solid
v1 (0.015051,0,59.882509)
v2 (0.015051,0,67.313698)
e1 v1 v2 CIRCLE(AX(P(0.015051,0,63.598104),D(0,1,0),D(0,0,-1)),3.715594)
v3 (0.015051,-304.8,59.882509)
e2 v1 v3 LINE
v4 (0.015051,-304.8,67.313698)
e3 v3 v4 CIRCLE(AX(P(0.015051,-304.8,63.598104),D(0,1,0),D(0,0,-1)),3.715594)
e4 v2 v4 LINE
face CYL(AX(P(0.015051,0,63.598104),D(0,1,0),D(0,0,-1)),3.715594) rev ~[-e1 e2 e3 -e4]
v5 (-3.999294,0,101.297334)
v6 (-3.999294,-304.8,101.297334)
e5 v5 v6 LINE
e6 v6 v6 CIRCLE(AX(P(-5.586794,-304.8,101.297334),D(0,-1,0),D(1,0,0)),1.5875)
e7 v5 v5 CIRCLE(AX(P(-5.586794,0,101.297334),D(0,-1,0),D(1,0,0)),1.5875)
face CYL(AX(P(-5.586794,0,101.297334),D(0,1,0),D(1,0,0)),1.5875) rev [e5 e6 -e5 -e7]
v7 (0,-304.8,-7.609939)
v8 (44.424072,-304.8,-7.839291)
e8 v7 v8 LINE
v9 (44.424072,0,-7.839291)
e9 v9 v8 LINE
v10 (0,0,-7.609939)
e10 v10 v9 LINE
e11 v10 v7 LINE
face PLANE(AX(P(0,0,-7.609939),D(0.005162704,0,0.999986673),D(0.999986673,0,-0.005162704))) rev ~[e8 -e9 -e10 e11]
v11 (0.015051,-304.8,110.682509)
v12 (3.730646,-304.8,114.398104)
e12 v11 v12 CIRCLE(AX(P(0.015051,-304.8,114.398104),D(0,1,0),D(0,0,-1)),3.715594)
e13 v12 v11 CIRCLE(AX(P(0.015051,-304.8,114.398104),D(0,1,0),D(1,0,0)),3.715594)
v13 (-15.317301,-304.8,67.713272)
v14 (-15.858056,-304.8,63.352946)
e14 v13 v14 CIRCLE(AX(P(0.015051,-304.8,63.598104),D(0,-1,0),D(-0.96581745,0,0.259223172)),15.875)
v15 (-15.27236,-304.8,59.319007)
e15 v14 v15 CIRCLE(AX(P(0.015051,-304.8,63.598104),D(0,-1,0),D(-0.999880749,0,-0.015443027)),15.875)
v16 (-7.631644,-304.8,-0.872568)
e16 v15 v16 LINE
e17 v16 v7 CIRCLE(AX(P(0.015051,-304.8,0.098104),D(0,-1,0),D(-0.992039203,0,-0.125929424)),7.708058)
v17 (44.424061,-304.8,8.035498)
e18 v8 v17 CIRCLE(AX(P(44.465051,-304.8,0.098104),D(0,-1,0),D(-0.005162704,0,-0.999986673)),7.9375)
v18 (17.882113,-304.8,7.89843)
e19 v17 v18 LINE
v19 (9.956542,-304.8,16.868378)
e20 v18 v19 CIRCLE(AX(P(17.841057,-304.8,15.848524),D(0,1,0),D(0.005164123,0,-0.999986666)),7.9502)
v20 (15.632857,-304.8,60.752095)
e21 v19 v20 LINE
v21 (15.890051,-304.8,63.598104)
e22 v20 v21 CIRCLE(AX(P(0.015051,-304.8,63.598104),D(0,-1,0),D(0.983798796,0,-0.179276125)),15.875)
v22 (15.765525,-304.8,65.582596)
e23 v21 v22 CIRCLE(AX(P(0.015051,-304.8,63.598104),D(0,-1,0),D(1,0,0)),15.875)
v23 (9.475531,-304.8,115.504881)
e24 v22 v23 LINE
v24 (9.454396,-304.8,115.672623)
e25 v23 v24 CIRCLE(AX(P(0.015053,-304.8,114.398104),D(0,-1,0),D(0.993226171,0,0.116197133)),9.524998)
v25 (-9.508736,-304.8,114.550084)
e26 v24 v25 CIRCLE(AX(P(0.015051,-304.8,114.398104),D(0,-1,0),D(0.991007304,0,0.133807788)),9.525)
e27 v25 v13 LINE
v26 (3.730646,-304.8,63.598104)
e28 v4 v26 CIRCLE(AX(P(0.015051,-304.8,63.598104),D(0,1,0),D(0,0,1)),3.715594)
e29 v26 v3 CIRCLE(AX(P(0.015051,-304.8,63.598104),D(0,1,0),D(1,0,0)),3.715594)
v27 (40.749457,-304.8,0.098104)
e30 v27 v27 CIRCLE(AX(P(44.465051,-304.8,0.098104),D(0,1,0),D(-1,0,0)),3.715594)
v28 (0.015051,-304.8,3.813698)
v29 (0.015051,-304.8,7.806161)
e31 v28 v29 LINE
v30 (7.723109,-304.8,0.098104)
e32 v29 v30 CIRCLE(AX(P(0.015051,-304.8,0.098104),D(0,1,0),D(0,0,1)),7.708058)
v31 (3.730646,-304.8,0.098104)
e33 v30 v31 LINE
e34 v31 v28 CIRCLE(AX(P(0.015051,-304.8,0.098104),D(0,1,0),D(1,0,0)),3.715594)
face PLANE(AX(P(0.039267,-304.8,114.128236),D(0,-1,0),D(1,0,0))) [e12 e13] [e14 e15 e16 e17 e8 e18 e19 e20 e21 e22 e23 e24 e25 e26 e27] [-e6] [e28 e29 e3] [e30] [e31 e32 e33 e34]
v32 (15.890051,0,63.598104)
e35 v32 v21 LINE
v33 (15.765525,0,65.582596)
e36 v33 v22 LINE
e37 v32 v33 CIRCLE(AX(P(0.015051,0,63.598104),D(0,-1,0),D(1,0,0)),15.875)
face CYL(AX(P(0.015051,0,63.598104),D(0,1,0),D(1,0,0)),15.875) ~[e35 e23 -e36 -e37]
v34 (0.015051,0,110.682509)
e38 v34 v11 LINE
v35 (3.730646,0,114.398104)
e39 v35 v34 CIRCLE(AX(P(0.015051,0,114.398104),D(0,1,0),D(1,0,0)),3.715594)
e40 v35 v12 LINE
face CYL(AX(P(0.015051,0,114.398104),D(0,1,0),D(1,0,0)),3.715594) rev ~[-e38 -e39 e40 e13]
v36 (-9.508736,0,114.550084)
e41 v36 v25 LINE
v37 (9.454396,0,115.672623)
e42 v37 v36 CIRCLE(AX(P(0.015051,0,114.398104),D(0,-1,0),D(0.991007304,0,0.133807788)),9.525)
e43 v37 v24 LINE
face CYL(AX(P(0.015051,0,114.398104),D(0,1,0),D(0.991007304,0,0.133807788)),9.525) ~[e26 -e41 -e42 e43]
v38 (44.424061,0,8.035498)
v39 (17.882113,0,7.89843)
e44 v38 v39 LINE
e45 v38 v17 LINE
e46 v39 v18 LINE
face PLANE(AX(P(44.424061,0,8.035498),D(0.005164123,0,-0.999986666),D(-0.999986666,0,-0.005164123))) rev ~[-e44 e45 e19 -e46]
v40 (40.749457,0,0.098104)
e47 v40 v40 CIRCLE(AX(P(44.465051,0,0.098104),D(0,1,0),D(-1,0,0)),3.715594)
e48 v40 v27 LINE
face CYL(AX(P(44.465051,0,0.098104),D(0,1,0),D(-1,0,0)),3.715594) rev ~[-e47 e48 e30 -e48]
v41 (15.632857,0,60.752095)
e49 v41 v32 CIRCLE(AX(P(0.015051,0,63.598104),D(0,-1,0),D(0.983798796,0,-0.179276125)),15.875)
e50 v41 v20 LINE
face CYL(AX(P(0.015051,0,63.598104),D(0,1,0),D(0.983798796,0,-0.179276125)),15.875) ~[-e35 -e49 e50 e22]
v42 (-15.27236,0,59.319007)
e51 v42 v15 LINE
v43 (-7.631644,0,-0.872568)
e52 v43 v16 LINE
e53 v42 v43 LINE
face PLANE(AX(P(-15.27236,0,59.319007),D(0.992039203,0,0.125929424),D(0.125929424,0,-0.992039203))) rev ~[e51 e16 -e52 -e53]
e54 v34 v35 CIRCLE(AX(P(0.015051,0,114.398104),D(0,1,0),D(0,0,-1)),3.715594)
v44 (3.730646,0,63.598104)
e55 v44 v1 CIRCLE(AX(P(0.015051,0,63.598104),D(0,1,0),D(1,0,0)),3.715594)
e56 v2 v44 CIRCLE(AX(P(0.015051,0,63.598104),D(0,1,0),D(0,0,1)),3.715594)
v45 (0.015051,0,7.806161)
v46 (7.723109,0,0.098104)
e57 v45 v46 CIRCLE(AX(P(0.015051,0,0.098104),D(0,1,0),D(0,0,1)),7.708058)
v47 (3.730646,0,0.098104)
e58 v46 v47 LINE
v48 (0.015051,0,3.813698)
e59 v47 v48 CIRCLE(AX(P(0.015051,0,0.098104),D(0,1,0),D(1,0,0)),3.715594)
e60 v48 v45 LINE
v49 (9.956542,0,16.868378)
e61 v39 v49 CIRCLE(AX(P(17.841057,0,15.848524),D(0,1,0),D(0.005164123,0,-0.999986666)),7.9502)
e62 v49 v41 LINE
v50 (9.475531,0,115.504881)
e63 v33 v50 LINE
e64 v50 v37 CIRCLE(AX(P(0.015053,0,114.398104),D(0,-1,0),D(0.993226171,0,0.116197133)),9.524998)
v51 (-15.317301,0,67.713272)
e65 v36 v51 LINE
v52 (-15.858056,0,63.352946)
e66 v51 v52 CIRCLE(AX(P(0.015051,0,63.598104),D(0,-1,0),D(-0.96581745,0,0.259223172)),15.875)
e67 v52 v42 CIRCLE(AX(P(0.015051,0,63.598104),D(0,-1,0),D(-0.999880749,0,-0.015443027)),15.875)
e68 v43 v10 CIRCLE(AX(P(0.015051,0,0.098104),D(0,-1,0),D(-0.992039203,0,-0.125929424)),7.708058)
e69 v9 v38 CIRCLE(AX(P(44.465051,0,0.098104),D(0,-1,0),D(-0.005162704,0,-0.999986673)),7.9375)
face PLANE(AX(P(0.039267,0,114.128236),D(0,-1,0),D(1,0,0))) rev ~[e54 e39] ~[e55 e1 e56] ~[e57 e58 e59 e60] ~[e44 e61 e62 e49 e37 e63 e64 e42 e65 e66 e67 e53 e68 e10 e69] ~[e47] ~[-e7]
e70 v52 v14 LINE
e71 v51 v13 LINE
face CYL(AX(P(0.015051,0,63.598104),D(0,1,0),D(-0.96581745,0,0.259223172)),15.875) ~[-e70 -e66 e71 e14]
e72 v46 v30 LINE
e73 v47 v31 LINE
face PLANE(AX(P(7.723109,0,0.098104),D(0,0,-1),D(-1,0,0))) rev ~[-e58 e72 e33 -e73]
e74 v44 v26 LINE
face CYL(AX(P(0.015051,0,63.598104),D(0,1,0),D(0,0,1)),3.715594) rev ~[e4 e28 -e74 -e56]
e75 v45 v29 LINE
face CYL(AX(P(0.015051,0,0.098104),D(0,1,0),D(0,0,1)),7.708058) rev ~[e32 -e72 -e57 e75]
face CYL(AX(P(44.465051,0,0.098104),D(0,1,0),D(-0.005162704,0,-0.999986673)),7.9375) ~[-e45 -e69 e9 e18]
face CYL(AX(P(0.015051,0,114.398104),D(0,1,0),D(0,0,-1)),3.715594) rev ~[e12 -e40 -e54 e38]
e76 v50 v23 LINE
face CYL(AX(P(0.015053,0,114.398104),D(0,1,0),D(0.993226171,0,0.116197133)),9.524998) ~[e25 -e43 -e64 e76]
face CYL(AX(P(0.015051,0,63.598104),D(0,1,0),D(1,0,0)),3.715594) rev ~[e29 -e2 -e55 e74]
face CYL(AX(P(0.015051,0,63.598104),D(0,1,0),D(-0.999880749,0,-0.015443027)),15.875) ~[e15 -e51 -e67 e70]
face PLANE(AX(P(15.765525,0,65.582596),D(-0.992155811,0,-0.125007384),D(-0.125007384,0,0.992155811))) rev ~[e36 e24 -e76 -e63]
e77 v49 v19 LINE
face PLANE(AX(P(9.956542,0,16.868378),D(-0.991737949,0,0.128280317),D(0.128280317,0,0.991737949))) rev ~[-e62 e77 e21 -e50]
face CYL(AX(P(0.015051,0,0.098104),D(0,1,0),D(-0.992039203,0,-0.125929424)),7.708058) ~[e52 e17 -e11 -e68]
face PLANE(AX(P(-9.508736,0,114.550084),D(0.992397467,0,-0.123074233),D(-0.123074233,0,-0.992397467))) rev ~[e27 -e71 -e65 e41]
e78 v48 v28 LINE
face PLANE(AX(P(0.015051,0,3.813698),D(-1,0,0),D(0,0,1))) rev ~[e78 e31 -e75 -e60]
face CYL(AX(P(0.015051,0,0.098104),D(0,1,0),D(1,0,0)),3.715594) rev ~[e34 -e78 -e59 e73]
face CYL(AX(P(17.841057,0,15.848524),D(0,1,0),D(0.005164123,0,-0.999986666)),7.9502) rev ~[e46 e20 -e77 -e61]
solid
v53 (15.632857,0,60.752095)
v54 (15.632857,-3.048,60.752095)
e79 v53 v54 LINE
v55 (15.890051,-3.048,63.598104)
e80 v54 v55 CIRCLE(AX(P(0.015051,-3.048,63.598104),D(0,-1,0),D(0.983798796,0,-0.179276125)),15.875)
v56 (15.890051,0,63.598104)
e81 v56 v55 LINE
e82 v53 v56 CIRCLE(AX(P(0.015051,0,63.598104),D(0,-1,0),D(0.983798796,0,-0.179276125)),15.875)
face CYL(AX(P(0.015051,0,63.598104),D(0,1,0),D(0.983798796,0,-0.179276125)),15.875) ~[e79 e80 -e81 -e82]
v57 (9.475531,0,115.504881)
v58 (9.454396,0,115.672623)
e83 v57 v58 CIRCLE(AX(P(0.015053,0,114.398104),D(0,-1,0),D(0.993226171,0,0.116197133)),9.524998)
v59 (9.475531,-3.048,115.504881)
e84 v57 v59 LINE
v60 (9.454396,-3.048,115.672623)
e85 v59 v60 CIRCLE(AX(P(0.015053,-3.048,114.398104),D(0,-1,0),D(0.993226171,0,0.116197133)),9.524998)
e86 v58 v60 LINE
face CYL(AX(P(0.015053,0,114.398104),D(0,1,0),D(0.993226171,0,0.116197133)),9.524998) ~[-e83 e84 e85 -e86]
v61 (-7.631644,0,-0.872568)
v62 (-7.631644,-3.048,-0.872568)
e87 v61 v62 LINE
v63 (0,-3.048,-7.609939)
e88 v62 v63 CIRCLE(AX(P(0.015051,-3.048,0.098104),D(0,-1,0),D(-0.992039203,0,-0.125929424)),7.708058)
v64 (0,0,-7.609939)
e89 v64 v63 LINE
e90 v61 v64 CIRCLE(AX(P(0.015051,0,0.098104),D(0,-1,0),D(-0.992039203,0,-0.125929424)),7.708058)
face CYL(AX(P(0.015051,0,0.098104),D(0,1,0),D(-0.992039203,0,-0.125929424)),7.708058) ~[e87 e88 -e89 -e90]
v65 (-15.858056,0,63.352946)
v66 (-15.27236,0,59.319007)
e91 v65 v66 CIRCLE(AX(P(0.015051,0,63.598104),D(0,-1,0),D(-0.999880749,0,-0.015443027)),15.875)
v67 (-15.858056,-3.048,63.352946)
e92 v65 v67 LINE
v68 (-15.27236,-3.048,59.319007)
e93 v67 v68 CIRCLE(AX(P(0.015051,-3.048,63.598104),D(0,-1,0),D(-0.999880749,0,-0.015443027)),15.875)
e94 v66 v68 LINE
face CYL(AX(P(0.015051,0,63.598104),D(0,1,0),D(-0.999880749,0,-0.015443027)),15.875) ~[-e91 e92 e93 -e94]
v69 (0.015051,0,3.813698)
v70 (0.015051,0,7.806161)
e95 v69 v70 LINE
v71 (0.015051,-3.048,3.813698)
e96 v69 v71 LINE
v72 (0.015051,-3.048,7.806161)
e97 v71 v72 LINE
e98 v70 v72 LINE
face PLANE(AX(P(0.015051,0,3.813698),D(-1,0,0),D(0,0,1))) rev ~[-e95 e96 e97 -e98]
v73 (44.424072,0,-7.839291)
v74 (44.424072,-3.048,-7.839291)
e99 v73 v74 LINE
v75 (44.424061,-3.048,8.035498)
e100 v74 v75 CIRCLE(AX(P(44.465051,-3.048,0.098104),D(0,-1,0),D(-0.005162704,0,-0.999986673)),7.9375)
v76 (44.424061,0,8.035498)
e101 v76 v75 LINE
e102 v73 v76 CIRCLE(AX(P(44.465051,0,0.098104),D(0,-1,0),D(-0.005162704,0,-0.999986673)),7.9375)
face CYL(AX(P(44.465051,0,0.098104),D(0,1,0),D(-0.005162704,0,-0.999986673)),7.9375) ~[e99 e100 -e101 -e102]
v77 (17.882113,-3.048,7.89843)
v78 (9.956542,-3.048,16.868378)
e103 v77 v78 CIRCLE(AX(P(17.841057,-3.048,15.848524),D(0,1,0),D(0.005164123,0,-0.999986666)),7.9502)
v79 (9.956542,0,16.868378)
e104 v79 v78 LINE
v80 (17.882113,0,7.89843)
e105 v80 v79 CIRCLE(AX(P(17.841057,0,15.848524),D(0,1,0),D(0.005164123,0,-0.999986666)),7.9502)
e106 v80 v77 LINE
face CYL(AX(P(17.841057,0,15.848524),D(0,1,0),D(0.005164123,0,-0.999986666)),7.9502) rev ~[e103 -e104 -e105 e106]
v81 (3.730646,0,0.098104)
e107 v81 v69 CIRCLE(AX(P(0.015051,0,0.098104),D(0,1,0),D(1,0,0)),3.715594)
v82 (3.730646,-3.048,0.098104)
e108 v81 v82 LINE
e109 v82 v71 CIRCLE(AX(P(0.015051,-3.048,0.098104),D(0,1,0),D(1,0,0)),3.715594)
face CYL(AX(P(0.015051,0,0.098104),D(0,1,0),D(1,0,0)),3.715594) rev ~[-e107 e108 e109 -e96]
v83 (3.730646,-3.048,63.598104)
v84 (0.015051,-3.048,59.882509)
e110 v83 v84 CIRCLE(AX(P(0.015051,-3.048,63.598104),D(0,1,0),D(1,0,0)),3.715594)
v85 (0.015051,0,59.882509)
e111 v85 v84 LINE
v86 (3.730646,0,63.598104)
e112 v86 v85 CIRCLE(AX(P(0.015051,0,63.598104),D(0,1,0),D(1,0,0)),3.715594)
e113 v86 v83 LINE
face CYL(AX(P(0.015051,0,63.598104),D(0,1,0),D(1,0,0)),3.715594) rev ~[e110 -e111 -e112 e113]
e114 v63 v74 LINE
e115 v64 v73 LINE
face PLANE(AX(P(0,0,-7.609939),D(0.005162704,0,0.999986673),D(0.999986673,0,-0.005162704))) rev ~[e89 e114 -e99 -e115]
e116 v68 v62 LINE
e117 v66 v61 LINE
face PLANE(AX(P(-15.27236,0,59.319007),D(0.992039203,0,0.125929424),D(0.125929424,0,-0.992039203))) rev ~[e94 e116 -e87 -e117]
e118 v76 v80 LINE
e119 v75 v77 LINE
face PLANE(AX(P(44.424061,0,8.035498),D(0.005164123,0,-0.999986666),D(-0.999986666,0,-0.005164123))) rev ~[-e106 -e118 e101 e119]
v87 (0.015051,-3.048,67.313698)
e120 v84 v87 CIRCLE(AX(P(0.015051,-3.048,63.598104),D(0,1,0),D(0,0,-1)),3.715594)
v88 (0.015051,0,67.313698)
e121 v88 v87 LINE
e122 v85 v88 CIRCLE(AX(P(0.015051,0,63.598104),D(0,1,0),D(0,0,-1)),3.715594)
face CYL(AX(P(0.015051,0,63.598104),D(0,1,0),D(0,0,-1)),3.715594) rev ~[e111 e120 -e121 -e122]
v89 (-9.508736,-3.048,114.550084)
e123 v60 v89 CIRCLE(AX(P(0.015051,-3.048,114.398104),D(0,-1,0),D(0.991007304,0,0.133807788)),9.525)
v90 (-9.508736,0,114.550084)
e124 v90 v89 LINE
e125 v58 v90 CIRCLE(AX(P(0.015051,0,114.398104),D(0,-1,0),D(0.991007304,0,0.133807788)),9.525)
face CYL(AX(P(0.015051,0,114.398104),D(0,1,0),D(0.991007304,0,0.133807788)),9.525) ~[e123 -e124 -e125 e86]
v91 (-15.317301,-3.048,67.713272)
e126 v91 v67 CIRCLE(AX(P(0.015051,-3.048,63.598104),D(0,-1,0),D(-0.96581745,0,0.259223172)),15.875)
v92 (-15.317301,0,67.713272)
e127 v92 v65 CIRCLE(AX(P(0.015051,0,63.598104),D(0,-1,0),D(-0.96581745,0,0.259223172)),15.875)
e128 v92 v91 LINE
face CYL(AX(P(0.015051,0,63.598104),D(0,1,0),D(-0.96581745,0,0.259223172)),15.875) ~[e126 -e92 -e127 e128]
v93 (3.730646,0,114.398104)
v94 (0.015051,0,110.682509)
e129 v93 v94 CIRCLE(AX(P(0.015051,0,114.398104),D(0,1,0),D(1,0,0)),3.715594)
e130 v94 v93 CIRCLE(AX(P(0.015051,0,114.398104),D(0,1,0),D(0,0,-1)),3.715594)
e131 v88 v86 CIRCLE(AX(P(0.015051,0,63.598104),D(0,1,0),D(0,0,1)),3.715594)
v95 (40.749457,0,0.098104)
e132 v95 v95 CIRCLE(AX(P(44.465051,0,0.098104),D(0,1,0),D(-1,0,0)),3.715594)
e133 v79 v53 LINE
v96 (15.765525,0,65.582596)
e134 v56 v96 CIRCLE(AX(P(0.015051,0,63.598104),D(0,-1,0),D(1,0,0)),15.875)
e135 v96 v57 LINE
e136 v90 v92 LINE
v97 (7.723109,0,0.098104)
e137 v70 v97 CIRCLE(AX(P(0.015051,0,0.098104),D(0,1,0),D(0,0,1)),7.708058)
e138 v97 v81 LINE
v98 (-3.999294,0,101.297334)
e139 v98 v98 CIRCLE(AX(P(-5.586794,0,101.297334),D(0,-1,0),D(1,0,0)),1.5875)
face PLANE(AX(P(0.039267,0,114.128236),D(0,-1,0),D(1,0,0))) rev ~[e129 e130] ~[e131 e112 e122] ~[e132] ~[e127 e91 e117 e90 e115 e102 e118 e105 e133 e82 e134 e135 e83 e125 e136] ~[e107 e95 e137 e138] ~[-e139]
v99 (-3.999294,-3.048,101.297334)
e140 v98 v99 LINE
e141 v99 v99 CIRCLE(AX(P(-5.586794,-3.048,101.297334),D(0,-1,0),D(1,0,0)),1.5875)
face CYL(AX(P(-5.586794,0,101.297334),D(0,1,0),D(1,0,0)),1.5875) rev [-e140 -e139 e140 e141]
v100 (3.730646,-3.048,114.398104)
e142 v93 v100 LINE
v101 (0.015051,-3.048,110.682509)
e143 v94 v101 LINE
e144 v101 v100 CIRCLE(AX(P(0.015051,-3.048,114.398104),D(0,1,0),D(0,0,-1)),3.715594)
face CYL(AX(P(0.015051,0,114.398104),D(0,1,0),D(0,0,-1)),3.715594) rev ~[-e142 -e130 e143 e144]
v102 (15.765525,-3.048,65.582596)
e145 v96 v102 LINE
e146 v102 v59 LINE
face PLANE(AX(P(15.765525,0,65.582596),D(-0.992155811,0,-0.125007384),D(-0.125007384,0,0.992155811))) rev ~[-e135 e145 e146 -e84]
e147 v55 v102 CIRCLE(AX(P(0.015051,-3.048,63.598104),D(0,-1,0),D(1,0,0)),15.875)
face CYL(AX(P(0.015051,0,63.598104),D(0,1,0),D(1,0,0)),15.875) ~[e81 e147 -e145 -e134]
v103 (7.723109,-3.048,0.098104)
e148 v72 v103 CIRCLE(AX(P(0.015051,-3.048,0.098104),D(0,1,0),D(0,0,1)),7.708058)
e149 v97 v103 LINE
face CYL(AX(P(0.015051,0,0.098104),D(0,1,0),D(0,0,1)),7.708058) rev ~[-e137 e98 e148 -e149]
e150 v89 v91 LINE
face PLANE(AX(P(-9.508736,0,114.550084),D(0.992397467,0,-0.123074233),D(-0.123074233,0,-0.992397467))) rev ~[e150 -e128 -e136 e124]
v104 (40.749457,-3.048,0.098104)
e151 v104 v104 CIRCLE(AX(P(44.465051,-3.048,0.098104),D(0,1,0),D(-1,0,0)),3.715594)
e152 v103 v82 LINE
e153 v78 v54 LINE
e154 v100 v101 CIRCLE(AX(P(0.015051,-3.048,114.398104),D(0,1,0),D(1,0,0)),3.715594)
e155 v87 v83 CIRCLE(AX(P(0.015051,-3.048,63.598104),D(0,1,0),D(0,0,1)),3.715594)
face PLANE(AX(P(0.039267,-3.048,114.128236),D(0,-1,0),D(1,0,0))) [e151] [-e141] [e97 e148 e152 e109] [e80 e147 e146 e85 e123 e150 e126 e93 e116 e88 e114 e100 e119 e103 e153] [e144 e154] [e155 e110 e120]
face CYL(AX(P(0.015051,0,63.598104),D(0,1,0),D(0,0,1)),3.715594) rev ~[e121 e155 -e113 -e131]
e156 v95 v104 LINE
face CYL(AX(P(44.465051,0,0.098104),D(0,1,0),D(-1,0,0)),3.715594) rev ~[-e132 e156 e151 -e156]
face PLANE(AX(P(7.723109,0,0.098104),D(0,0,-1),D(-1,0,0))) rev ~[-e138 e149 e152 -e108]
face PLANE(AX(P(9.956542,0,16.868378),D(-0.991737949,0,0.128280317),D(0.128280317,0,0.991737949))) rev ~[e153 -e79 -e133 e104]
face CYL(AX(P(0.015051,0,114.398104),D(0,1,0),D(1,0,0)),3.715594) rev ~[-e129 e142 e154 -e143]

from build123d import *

# Parameters (mm, degrees)
F0_R     = 1.5875
F1_DEPTH = 304.8
F2_DEPTH = 3.048


with BuildPart() as f1:
    # F0 (on Front) → F1 (new body)
    with BuildSketch(Plane.XZ):
        with BuildLine():
            ThreePointArc((-9.5087361881, 114.5500842279), (-6.7736614446, 107.7168608946), (0.0150512367, 104.873103678))
            ThreePointArc((0.0150512367, 104.873103678), (6.7502433275, 107.6629115872), (9.5400512367, 114.398103678))
            ThreePointArc((9.5400512367, 114.398103678), (9.5239073745, 114.9524320558), (9.4755305122, 115.5048813783))
            Line((9.4755305122, 115.5048813783), (9.4543958033, 115.6726228626))
            ThreePointArc((9.4543958033, 115.6726228626), (-0.5478038918, 123.906458904), (-9.5087361881, 114.5500842279))
        make_face()
        with BuildLine():
            ThreePointArc((3.7306455777, 114.398103678), (2.6423731913, 111.7707817234), (0.0150512367, 110.682509337))
            ThreePointArc((0.0150512367, 110.682509337), (-2.612270718, 117.0254256327), (3.7306455777, 114.398103678))
        make_face(mode=Mode.SUBTRACT)
        with BuildLine():
            ThreePointArc((9.5400512367, 114.398103678), (6.7502433275, 107.6629115872), (0.0150512367, 104.873103678))
            Line((0.0150512367, 104.873103678), (0.0150512367, 79.473103678))
            ThreePointArc((0.0150512367, 79.473103678), (10.515332529, 75.5043926793), (15.7655247688, 65.5825956822))
            Line((15.7655247688, 65.5825956822), (9.4755305122, 115.5048813783))
            ThreePointArc((9.4755305122, 115.5048813783), (9.5239073745, 114.9524320558), (9.5400512367, 114.398103678))
        make_face()
        with BuildLine():
            Line((0.0150512367, 79.473103678), (0.0150512367, 104.873103678))
            ThreePointArc((0.0150512367, 104.873103678), (-6.7736614446, 107.7168608946), (-9.5087361881, 114.5500842279))
            Line((-9.5087361881, 114.5500842279), (-15.3173007855, 67.7132715322))
            ThreePointArc((-15.3173007855, 67.7132715322), (-9.6464014314, 76.1946094373), (0.0150512367, 79.473103678))
        make_face()
        with Locations((-5.5867941119, 101.2973338366)):
            Circle(F0_R, mode=Mode.SUBTRACT)
        with BuildLine():
            ThreePointArc((15.7655247688, 65.5825956822), (10.515332529, 75.5043926793), (0.0150512367, 79.473103678))
            Line((0.0150512367, 79.473103678), (0.0150512367, 67.313698019))
            ThreePointArc((0.0150512367, 67.313698019), (2.6423731913, 66.2254256327), (3.7306455777, 63.598103678))
            ThreePointArc((3.7306455777, 63.598103678), (2.6423731913, 60.9707817234), (0.0150512367, 59.882509337))
            Line((0.0150512367, 59.882509337), (0.0150512367, 47.723103678))
            ThreePointArc((0.0150512367, 47.723103678), (10.1844966564, 51.4080255464), (15.6328571229, 60.7520951923))
            ThreePointArc((15.6328571229, 60.7520951923), (15.8256219639, 62.1693005851), (15.8900512367, 63.598103678))
            ThreePointArc((15.8900512367, 63.598103678), (15.8588890344, 64.5923012635), (15.7655247688, 65.5825956822))
        make_face()
        with BuildLine():
            Line((0.0150512367, 67.313698019), (0.0150512367, 79.473103678))
            ThreePointArc((0.0150512367, 79.473103678), (-9.6464014314, 76.1946094373), (-15.3173007855, 67.7132715322))
            Line((-15.3173007855, 67.7132715322), (-15.8580556591, 63.3529456192))
            ThreePointArc((-15.8580556591, 63.3529456192), (-15.6952207307, 61.3170995766), (-15.2723604957, 59.3190071001))
            ThreePointArc((-15.2723604957, 59.3190071001), (-9.5788261553, 50.9500547539), (0.0150512367, 47.723103678))
            Line((0.0150512367, 47.723103678), (0.0150512367, 59.882509337))
            ThreePointArc((0.0150512367, 59.882509337), (-3.7005431043, 63.598103678), (0.0150512367, 67.313698019))
        make_face()
        with BuildLine():
            Line((-15.8580556591, 63.3529456192), (-15.3173007855, 67.7132715322))
            ThreePointArc((-15.3173007855, 67.7132715322), (-15.7392585574, 65.5519071258), (-15.8580556591, 63.3529456192))
        make_face()
        with BuildLine():
            ThreePointArc((9.4755305122, 115.5048813783), (9.4653353392, 115.5887990138), (9.4543958033, 115.6726228626))
            Line((9.4543958033, 115.6726228626), (9.4755305122, 115.5048813783))
        make_face()
        with BuildLine():
            ThreePointArc((15.6328571229, 60.7520951923), (10.1844966564, 51.4080255464), (0.0150512367, 47.723103678))
            Line((0.0150512367, 47.723103678), (0.0150512367, 7.8061611912))
            ThreePointArc((0.0150512367, 7.8061611912), (5.465470974, 5.5485234153), (7.7231087498, 0.098103678))
            Line((7.7231087498, 0.098103678), (36.5275512367, 0.098103678))
            ThreePointArc((36.5275512367, 0.098103678), (38.8379175893, 5.6962527618), (44.4240610104, 8.035497838))
            Line((44.4240610104, 8.035497838), (17.8821128526, 7.8984301254))
            ThreePointArc((17.8821128526, 7.8984301254), (11.8832927191, 10.5844264427), (9.9565419968, 16.8683782937))
            Line((9.9565419968, 16.8683782937), (15.6328571229, 60.7520951923))
        make_face()
        with BuildLine():
            Line((0.0150512367, 7.8061611912), (0.0150512367, 47.723103678))
            ThreePointArc((0.0150512367, 47.723103678), (-9.5788261553, 50.9500547539), (-15.2723604957, 59.3190071001))
            Line((-15.2723604957, 59.3190071001), (-7.6316439952, -0.8725675623))
            ThreePointArc((-7.6316439952, -0.8725675623), (-5.7683794222, 5.1937960196), (0.0150512367, 7.8061611912))
        make_face()
        with BuildLine():
            Line((0.0150512367, 3.813698019), (0.0150512367, 7.8061611912))
            ThreePointArc((0.0150512367, 7.8061611912), (-5.7683794222, 5.1937960196), (-7.6316439952, -0.8725675623))
            ThreePointArc((-7.6316439952, -0.8725675623), (-5.0862852236, -5.6803491378), (0, -7.6099391401))
            ThreePointArc((0, -7.6099391401), (5.460146958, -5.3576348799), (7.7231087498, 0.098103678))
            Line((7.7231087498, 0.098103678), (3.7306455777, 0.098103678))
            ThreePointArc((3.7306455777, 0.098103678), (-2.612270718, -2.5292182766), (0.0150512367, 3.813698019))
        make_face()
        with BuildLine():
            Line((36.5275512367, 0.098103678), (7.7231087498, 0.098103678))
            ThreePointArc((7.7231087498, 0.098103678), (5.460146958, -5.3576348799), (0, -7.6099391401))
            Line((0, -7.6099391401), (44.4240722723, -7.8392905401))
            ThreePointArc((44.4240722723, -7.8392905401), (38.8379215607, -5.5000493978), (36.5275512367, 0.098103678))
        make_face()
        with BuildLine():
            ThreePointArc((44.4240610104, 8.035497838), (38.8379175893, 5.6962527618), (36.5275512367, 0.098103678))
            ThreePointArc((36.5275512367, 0.098103678), (38.8379215607, -5.5000493978), (44.4240722723, -7.8392905401))
            ThreePointArc((44.4240722723, -7.8392905401), (50.0632043125, -5.5290259979), (52.4025512367, 0.098103678))
            ThreePointArc((52.4025512367, 0.098103678), (50.0632003205, 5.7252373254), (44.4240610104, 8.035497838))
        make_face()
        with BuildLine():
            ThreePointArc((48.1806455777, 0.098103678), (44.4650512367, -3.617490663), (40.7494568957, 0.098103678))
            ThreePointArc((40.7494568957, 0.098103678), (44.4650512367, 3.813698019), (48.1806455777, 0.098103678))
        make_face(mode=Mode.SUBTRACT)
    extrude(amount=F1_DEPTH)


with BuildPart() as f2:
    # F0 (on Front) → F2 (new body)
    with BuildSketch(Plane.XZ):
        with BuildLine():
            ThreePointArc((-9.5087361881, 114.5500842279), (-6.7736614446, 107.7168608946), (0.0150512367, 104.873103678))
            ThreePointArc((0.0150512367, 104.873103678), (6.7502433275, 107.6629115872), (9.5400512367, 114.398103678))
            ThreePointArc((9.5400512367, 114.398103678), (9.5239073745, 114.9524320558), (9.4755305122, 115.5048813783))
            Line((9.4755305122, 115.5048813783), (9.4543958033, 115.6726228626))
            ThreePointArc((9.4543958033, 115.6726228626), (-0.5478038918, 123.906458904), (-9.5087361881, 114.5500842279))
        make_face()
        with BuildLine():
            ThreePointArc((3.7306455777, 114.398103678), (2.6423731913, 111.7707817234), (0.0150512367, 110.682509337))
            ThreePointArc((0.0150512367, 110.682509337), (-2.612270718, 117.0254256327), (3.7306455777, 114.398103678))
        make_face(mode=Mode.SUBTRACT)
        with BuildLine():
            ThreePointArc((9.5400512367, 114.398103678), (6.7502433275, 107.6629115872), (0.0150512367, 104.873103678))
            Line((0.0150512367, 104.873103678), (0.0150512367, 79.473103678))
            ThreePointArc((0.0150512367, 79.473103678), (10.515332529, 75.5043926793), (15.7655247688, 65.5825956822))
            Line((15.7655247688, 65.5825956822), (9.4755305122, 115.5048813783))
            ThreePointArc((9.4755305122, 115.5048813783), (9.5239073745, 114.9524320558), (9.5400512367, 114.398103678))
        make_face()
        with BuildLine():
            Line((0.0150512367, 79.473103678), (0.0150512367, 104.873103678))
            ThreePointArc((0.0150512367, 104.873103678), (-6.7736614446, 107.7168608946), (-9.5087361881, 114.5500842279))
            Line((-9.5087361881, 114.5500842279), (-15.3173007855, 67.7132715322))
            ThreePointArc((-15.3173007855, 67.7132715322), (-9.6464014314, 76.1946094373), (0.0150512367, 79.473103678))
        make_face()
        with Locations((-5.5867941119, 101.2973338366)):
            Circle(F0_R, mode=Mode.SUBTRACT)
        with BuildLine():
            ThreePointArc((15.7655247688, 65.5825956822), (10.515332529, 75.5043926793), (0.0150512367, 79.473103678))
            Line((0.0150512367, 79.473103678), (0.0150512367, 67.313698019))
            ThreePointArc((0.0150512367, 67.313698019), (2.6423731913, 66.2254256327), (3.7306455777, 63.598103678))
            ThreePointArc((3.7306455777, 63.598103678), (2.6423731913, 60.9707817234), (0.0150512367, 59.882509337))
            Line((0.0150512367, 59.882509337), (0.0150512367, 47.723103678))
            ThreePointArc((0.0150512367, 47.723103678), (10.1844966564, 51.4080255464), (15.6328571229, 60.7520951923))
            ThreePointArc((15.6328571229, 60.7520951923), (15.8256219639, 62.1693005851), (15.8900512367, 63.598103678))
            ThreePointArc((15.8900512367, 63.598103678), (15.8588890344, 64.5923012635), (15.7655247688, 65.5825956822))
        make_face()
        with BuildLine():
            Line((0.0150512367, 67.313698019), (0.0150512367, 79.473103678))
            ThreePointArc((0.0150512367, 79.473103678), (-9.6464014314, 76.1946094373), (-15.3173007855, 67.7132715322))
            Line((-15.3173007855, 67.7132715322), (-15.8580556591, 63.3529456192))
            ThreePointArc((-15.8580556591, 63.3529456192), (-15.6952207307, 61.3170995766), (-15.2723604957, 59.3190071001))
            ThreePointArc((-15.2723604957, 59.3190071001), (-9.5788261553, 50.9500547539), (0.0150512367, 47.723103678))
            Line((0.0150512367, 47.723103678), (0.0150512367, 59.882509337))
            ThreePointArc((0.0150512367, 59.882509337), (-3.7005431043, 63.598103678), (0.0150512367, 67.313698019))
        make_face()
        with BuildLine():
            Line((-15.8580556591, 63.3529456192), (-15.3173007855, 67.7132715322))
            ThreePointArc((-15.3173007855, 67.7132715322), (-15.7392585574, 65.5519071258), (-15.8580556591, 63.3529456192))
        make_face()
        with BuildLine():
            ThreePointArc((9.4755305122, 115.5048813783), (9.4653353392, 115.5887990138), (9.4543958033, 115.6726228626))
            Line((9.4543958033, 115.6726228626), (9.4755305122, 115.5048813783))
        make_face()
        with BuildLine():
            ThreePointArc((15.6328571229, 60.7520951923), (10.1844966564, 51.4080255464), (0.0150512367, 47.723103678))
            Line((0.0150512367, 47.723103678), (0.0150512367, 7.8061611912))
            ThreePointArc((0.0150512367, 7.8061611912), (5.465470974, 5.5485234153), (7.7231087498, 0.098103678))
            Line((7.7231087498, 0.098103678), (36.5275512367, 0.098103678))
            ThreePointArc((36.5275512367, 0.098103678), (38.8379175893, 5.6962527618), (44.4240610104, 8.035497838))
            Line((44.4240610104, 8.035497838), (17.8821128526, 7.8984301254))
            ThreePointArc((17.8821128526, 7.8984301254), (11.8832927191, 10.5844264427), (9.9565419968, 16.8683782937))
            Line((9.9565419968, 16.8683782937), (15.6328571229, 60.7520951923))
        make_face()
        with BuildLine():
            Line((0.0150512367, 7.8061611912), (0.0150512367, 47.723103678))
            ThreePointArc((0.0150512367, 47.723103678), (-9.5788261553, 50.9500547539), (-15.2723604957, 59.3190071001))
            Line((-15.2723604957, 59.3190071001), (-7.6316439952, -0.8725675623))
            ThreePointArc((-7.6316439952, -0.8725675623), (-5.7683794222, 5.1937960196), (0.0150512367, 7.8061611912))
        make_face()
        with BuildLine():
            Line((0.0150512367, 3.813698019), (0.0150512367, 7.8061611912))
            ThreePointArc((0.0150512367, 7.8061611912), (-5.7683794222, 5.1937960196), (-7.6316439952, -0.8725675623))
            ThreePointArc((-7.6316439952, -0.8725675623), (-5.0862852236, -5.6803491378), (0, -7.6099391401))
            ThreePointArc((0, -7.6099391401), (5.460146958, -5.3576348799), (7.7231087498, 0.098103678))
            Line((7.7231087498, 0.098103678), (3.7306455777, 0.098103678))
            ThreePointArc((3.7306455777, 0.098103678), (-2.612270718, -2.5292182766), (0.0150512367, 3.813698019))
        make_face()
        with BuildLine():
            Line((36.5275512367, 0.098103678), (7.7231087498, 0.098103678))
            ThreePointArc((7.7231087498, 0.098103678), (5.460146958, -5.3576348799), (0, -7.6099391401))
            Line((0, -7.6099391401), (44.4240722723, -7.8392905401))
            ThreePointArc((44.4240722723, -7.8392905401), (38.8379215607, -5.5000493978), (36.5275512367, 0.098103678))
        make_face()
        with BuildLine():
            ThreePointArc((44.4240610104, 8.035497838), (38.8379175893, 5.6962527618), (36.5275512367, 0.098103678))
            ThreePointArc((36.5275512367, 0.098103678), (38.8379215607, -5.5000493978), (44.4240722723, -7.8392905401))
            ThreePointArc((44.4240722723, -7.8392905401), (50.0632043125, -5.5290259979), (52.4025512367, 0.098103678))
            ThreePointArc((52.4025512367, 0.098103678), (50.0632003205, 5.7252373254), (44.4240610104, 8.035497838))
        make_face()
        with BuildLine():
            ThreePointArc((48.1806455777, 0.098103678), (44.4650512367, -3.617490663), (40.7494568957, 0.098103678))
            ThreePointArc((40.7494568957, 0.098103678), (44.4650512367, 3.813698019), (48.1806455777, 0.098103678))
        make_face(mode=Mode.SUBTRACT)
    extrude(amount=F2_DEPTH)


solid = Compound([f1.part, f2.part])
